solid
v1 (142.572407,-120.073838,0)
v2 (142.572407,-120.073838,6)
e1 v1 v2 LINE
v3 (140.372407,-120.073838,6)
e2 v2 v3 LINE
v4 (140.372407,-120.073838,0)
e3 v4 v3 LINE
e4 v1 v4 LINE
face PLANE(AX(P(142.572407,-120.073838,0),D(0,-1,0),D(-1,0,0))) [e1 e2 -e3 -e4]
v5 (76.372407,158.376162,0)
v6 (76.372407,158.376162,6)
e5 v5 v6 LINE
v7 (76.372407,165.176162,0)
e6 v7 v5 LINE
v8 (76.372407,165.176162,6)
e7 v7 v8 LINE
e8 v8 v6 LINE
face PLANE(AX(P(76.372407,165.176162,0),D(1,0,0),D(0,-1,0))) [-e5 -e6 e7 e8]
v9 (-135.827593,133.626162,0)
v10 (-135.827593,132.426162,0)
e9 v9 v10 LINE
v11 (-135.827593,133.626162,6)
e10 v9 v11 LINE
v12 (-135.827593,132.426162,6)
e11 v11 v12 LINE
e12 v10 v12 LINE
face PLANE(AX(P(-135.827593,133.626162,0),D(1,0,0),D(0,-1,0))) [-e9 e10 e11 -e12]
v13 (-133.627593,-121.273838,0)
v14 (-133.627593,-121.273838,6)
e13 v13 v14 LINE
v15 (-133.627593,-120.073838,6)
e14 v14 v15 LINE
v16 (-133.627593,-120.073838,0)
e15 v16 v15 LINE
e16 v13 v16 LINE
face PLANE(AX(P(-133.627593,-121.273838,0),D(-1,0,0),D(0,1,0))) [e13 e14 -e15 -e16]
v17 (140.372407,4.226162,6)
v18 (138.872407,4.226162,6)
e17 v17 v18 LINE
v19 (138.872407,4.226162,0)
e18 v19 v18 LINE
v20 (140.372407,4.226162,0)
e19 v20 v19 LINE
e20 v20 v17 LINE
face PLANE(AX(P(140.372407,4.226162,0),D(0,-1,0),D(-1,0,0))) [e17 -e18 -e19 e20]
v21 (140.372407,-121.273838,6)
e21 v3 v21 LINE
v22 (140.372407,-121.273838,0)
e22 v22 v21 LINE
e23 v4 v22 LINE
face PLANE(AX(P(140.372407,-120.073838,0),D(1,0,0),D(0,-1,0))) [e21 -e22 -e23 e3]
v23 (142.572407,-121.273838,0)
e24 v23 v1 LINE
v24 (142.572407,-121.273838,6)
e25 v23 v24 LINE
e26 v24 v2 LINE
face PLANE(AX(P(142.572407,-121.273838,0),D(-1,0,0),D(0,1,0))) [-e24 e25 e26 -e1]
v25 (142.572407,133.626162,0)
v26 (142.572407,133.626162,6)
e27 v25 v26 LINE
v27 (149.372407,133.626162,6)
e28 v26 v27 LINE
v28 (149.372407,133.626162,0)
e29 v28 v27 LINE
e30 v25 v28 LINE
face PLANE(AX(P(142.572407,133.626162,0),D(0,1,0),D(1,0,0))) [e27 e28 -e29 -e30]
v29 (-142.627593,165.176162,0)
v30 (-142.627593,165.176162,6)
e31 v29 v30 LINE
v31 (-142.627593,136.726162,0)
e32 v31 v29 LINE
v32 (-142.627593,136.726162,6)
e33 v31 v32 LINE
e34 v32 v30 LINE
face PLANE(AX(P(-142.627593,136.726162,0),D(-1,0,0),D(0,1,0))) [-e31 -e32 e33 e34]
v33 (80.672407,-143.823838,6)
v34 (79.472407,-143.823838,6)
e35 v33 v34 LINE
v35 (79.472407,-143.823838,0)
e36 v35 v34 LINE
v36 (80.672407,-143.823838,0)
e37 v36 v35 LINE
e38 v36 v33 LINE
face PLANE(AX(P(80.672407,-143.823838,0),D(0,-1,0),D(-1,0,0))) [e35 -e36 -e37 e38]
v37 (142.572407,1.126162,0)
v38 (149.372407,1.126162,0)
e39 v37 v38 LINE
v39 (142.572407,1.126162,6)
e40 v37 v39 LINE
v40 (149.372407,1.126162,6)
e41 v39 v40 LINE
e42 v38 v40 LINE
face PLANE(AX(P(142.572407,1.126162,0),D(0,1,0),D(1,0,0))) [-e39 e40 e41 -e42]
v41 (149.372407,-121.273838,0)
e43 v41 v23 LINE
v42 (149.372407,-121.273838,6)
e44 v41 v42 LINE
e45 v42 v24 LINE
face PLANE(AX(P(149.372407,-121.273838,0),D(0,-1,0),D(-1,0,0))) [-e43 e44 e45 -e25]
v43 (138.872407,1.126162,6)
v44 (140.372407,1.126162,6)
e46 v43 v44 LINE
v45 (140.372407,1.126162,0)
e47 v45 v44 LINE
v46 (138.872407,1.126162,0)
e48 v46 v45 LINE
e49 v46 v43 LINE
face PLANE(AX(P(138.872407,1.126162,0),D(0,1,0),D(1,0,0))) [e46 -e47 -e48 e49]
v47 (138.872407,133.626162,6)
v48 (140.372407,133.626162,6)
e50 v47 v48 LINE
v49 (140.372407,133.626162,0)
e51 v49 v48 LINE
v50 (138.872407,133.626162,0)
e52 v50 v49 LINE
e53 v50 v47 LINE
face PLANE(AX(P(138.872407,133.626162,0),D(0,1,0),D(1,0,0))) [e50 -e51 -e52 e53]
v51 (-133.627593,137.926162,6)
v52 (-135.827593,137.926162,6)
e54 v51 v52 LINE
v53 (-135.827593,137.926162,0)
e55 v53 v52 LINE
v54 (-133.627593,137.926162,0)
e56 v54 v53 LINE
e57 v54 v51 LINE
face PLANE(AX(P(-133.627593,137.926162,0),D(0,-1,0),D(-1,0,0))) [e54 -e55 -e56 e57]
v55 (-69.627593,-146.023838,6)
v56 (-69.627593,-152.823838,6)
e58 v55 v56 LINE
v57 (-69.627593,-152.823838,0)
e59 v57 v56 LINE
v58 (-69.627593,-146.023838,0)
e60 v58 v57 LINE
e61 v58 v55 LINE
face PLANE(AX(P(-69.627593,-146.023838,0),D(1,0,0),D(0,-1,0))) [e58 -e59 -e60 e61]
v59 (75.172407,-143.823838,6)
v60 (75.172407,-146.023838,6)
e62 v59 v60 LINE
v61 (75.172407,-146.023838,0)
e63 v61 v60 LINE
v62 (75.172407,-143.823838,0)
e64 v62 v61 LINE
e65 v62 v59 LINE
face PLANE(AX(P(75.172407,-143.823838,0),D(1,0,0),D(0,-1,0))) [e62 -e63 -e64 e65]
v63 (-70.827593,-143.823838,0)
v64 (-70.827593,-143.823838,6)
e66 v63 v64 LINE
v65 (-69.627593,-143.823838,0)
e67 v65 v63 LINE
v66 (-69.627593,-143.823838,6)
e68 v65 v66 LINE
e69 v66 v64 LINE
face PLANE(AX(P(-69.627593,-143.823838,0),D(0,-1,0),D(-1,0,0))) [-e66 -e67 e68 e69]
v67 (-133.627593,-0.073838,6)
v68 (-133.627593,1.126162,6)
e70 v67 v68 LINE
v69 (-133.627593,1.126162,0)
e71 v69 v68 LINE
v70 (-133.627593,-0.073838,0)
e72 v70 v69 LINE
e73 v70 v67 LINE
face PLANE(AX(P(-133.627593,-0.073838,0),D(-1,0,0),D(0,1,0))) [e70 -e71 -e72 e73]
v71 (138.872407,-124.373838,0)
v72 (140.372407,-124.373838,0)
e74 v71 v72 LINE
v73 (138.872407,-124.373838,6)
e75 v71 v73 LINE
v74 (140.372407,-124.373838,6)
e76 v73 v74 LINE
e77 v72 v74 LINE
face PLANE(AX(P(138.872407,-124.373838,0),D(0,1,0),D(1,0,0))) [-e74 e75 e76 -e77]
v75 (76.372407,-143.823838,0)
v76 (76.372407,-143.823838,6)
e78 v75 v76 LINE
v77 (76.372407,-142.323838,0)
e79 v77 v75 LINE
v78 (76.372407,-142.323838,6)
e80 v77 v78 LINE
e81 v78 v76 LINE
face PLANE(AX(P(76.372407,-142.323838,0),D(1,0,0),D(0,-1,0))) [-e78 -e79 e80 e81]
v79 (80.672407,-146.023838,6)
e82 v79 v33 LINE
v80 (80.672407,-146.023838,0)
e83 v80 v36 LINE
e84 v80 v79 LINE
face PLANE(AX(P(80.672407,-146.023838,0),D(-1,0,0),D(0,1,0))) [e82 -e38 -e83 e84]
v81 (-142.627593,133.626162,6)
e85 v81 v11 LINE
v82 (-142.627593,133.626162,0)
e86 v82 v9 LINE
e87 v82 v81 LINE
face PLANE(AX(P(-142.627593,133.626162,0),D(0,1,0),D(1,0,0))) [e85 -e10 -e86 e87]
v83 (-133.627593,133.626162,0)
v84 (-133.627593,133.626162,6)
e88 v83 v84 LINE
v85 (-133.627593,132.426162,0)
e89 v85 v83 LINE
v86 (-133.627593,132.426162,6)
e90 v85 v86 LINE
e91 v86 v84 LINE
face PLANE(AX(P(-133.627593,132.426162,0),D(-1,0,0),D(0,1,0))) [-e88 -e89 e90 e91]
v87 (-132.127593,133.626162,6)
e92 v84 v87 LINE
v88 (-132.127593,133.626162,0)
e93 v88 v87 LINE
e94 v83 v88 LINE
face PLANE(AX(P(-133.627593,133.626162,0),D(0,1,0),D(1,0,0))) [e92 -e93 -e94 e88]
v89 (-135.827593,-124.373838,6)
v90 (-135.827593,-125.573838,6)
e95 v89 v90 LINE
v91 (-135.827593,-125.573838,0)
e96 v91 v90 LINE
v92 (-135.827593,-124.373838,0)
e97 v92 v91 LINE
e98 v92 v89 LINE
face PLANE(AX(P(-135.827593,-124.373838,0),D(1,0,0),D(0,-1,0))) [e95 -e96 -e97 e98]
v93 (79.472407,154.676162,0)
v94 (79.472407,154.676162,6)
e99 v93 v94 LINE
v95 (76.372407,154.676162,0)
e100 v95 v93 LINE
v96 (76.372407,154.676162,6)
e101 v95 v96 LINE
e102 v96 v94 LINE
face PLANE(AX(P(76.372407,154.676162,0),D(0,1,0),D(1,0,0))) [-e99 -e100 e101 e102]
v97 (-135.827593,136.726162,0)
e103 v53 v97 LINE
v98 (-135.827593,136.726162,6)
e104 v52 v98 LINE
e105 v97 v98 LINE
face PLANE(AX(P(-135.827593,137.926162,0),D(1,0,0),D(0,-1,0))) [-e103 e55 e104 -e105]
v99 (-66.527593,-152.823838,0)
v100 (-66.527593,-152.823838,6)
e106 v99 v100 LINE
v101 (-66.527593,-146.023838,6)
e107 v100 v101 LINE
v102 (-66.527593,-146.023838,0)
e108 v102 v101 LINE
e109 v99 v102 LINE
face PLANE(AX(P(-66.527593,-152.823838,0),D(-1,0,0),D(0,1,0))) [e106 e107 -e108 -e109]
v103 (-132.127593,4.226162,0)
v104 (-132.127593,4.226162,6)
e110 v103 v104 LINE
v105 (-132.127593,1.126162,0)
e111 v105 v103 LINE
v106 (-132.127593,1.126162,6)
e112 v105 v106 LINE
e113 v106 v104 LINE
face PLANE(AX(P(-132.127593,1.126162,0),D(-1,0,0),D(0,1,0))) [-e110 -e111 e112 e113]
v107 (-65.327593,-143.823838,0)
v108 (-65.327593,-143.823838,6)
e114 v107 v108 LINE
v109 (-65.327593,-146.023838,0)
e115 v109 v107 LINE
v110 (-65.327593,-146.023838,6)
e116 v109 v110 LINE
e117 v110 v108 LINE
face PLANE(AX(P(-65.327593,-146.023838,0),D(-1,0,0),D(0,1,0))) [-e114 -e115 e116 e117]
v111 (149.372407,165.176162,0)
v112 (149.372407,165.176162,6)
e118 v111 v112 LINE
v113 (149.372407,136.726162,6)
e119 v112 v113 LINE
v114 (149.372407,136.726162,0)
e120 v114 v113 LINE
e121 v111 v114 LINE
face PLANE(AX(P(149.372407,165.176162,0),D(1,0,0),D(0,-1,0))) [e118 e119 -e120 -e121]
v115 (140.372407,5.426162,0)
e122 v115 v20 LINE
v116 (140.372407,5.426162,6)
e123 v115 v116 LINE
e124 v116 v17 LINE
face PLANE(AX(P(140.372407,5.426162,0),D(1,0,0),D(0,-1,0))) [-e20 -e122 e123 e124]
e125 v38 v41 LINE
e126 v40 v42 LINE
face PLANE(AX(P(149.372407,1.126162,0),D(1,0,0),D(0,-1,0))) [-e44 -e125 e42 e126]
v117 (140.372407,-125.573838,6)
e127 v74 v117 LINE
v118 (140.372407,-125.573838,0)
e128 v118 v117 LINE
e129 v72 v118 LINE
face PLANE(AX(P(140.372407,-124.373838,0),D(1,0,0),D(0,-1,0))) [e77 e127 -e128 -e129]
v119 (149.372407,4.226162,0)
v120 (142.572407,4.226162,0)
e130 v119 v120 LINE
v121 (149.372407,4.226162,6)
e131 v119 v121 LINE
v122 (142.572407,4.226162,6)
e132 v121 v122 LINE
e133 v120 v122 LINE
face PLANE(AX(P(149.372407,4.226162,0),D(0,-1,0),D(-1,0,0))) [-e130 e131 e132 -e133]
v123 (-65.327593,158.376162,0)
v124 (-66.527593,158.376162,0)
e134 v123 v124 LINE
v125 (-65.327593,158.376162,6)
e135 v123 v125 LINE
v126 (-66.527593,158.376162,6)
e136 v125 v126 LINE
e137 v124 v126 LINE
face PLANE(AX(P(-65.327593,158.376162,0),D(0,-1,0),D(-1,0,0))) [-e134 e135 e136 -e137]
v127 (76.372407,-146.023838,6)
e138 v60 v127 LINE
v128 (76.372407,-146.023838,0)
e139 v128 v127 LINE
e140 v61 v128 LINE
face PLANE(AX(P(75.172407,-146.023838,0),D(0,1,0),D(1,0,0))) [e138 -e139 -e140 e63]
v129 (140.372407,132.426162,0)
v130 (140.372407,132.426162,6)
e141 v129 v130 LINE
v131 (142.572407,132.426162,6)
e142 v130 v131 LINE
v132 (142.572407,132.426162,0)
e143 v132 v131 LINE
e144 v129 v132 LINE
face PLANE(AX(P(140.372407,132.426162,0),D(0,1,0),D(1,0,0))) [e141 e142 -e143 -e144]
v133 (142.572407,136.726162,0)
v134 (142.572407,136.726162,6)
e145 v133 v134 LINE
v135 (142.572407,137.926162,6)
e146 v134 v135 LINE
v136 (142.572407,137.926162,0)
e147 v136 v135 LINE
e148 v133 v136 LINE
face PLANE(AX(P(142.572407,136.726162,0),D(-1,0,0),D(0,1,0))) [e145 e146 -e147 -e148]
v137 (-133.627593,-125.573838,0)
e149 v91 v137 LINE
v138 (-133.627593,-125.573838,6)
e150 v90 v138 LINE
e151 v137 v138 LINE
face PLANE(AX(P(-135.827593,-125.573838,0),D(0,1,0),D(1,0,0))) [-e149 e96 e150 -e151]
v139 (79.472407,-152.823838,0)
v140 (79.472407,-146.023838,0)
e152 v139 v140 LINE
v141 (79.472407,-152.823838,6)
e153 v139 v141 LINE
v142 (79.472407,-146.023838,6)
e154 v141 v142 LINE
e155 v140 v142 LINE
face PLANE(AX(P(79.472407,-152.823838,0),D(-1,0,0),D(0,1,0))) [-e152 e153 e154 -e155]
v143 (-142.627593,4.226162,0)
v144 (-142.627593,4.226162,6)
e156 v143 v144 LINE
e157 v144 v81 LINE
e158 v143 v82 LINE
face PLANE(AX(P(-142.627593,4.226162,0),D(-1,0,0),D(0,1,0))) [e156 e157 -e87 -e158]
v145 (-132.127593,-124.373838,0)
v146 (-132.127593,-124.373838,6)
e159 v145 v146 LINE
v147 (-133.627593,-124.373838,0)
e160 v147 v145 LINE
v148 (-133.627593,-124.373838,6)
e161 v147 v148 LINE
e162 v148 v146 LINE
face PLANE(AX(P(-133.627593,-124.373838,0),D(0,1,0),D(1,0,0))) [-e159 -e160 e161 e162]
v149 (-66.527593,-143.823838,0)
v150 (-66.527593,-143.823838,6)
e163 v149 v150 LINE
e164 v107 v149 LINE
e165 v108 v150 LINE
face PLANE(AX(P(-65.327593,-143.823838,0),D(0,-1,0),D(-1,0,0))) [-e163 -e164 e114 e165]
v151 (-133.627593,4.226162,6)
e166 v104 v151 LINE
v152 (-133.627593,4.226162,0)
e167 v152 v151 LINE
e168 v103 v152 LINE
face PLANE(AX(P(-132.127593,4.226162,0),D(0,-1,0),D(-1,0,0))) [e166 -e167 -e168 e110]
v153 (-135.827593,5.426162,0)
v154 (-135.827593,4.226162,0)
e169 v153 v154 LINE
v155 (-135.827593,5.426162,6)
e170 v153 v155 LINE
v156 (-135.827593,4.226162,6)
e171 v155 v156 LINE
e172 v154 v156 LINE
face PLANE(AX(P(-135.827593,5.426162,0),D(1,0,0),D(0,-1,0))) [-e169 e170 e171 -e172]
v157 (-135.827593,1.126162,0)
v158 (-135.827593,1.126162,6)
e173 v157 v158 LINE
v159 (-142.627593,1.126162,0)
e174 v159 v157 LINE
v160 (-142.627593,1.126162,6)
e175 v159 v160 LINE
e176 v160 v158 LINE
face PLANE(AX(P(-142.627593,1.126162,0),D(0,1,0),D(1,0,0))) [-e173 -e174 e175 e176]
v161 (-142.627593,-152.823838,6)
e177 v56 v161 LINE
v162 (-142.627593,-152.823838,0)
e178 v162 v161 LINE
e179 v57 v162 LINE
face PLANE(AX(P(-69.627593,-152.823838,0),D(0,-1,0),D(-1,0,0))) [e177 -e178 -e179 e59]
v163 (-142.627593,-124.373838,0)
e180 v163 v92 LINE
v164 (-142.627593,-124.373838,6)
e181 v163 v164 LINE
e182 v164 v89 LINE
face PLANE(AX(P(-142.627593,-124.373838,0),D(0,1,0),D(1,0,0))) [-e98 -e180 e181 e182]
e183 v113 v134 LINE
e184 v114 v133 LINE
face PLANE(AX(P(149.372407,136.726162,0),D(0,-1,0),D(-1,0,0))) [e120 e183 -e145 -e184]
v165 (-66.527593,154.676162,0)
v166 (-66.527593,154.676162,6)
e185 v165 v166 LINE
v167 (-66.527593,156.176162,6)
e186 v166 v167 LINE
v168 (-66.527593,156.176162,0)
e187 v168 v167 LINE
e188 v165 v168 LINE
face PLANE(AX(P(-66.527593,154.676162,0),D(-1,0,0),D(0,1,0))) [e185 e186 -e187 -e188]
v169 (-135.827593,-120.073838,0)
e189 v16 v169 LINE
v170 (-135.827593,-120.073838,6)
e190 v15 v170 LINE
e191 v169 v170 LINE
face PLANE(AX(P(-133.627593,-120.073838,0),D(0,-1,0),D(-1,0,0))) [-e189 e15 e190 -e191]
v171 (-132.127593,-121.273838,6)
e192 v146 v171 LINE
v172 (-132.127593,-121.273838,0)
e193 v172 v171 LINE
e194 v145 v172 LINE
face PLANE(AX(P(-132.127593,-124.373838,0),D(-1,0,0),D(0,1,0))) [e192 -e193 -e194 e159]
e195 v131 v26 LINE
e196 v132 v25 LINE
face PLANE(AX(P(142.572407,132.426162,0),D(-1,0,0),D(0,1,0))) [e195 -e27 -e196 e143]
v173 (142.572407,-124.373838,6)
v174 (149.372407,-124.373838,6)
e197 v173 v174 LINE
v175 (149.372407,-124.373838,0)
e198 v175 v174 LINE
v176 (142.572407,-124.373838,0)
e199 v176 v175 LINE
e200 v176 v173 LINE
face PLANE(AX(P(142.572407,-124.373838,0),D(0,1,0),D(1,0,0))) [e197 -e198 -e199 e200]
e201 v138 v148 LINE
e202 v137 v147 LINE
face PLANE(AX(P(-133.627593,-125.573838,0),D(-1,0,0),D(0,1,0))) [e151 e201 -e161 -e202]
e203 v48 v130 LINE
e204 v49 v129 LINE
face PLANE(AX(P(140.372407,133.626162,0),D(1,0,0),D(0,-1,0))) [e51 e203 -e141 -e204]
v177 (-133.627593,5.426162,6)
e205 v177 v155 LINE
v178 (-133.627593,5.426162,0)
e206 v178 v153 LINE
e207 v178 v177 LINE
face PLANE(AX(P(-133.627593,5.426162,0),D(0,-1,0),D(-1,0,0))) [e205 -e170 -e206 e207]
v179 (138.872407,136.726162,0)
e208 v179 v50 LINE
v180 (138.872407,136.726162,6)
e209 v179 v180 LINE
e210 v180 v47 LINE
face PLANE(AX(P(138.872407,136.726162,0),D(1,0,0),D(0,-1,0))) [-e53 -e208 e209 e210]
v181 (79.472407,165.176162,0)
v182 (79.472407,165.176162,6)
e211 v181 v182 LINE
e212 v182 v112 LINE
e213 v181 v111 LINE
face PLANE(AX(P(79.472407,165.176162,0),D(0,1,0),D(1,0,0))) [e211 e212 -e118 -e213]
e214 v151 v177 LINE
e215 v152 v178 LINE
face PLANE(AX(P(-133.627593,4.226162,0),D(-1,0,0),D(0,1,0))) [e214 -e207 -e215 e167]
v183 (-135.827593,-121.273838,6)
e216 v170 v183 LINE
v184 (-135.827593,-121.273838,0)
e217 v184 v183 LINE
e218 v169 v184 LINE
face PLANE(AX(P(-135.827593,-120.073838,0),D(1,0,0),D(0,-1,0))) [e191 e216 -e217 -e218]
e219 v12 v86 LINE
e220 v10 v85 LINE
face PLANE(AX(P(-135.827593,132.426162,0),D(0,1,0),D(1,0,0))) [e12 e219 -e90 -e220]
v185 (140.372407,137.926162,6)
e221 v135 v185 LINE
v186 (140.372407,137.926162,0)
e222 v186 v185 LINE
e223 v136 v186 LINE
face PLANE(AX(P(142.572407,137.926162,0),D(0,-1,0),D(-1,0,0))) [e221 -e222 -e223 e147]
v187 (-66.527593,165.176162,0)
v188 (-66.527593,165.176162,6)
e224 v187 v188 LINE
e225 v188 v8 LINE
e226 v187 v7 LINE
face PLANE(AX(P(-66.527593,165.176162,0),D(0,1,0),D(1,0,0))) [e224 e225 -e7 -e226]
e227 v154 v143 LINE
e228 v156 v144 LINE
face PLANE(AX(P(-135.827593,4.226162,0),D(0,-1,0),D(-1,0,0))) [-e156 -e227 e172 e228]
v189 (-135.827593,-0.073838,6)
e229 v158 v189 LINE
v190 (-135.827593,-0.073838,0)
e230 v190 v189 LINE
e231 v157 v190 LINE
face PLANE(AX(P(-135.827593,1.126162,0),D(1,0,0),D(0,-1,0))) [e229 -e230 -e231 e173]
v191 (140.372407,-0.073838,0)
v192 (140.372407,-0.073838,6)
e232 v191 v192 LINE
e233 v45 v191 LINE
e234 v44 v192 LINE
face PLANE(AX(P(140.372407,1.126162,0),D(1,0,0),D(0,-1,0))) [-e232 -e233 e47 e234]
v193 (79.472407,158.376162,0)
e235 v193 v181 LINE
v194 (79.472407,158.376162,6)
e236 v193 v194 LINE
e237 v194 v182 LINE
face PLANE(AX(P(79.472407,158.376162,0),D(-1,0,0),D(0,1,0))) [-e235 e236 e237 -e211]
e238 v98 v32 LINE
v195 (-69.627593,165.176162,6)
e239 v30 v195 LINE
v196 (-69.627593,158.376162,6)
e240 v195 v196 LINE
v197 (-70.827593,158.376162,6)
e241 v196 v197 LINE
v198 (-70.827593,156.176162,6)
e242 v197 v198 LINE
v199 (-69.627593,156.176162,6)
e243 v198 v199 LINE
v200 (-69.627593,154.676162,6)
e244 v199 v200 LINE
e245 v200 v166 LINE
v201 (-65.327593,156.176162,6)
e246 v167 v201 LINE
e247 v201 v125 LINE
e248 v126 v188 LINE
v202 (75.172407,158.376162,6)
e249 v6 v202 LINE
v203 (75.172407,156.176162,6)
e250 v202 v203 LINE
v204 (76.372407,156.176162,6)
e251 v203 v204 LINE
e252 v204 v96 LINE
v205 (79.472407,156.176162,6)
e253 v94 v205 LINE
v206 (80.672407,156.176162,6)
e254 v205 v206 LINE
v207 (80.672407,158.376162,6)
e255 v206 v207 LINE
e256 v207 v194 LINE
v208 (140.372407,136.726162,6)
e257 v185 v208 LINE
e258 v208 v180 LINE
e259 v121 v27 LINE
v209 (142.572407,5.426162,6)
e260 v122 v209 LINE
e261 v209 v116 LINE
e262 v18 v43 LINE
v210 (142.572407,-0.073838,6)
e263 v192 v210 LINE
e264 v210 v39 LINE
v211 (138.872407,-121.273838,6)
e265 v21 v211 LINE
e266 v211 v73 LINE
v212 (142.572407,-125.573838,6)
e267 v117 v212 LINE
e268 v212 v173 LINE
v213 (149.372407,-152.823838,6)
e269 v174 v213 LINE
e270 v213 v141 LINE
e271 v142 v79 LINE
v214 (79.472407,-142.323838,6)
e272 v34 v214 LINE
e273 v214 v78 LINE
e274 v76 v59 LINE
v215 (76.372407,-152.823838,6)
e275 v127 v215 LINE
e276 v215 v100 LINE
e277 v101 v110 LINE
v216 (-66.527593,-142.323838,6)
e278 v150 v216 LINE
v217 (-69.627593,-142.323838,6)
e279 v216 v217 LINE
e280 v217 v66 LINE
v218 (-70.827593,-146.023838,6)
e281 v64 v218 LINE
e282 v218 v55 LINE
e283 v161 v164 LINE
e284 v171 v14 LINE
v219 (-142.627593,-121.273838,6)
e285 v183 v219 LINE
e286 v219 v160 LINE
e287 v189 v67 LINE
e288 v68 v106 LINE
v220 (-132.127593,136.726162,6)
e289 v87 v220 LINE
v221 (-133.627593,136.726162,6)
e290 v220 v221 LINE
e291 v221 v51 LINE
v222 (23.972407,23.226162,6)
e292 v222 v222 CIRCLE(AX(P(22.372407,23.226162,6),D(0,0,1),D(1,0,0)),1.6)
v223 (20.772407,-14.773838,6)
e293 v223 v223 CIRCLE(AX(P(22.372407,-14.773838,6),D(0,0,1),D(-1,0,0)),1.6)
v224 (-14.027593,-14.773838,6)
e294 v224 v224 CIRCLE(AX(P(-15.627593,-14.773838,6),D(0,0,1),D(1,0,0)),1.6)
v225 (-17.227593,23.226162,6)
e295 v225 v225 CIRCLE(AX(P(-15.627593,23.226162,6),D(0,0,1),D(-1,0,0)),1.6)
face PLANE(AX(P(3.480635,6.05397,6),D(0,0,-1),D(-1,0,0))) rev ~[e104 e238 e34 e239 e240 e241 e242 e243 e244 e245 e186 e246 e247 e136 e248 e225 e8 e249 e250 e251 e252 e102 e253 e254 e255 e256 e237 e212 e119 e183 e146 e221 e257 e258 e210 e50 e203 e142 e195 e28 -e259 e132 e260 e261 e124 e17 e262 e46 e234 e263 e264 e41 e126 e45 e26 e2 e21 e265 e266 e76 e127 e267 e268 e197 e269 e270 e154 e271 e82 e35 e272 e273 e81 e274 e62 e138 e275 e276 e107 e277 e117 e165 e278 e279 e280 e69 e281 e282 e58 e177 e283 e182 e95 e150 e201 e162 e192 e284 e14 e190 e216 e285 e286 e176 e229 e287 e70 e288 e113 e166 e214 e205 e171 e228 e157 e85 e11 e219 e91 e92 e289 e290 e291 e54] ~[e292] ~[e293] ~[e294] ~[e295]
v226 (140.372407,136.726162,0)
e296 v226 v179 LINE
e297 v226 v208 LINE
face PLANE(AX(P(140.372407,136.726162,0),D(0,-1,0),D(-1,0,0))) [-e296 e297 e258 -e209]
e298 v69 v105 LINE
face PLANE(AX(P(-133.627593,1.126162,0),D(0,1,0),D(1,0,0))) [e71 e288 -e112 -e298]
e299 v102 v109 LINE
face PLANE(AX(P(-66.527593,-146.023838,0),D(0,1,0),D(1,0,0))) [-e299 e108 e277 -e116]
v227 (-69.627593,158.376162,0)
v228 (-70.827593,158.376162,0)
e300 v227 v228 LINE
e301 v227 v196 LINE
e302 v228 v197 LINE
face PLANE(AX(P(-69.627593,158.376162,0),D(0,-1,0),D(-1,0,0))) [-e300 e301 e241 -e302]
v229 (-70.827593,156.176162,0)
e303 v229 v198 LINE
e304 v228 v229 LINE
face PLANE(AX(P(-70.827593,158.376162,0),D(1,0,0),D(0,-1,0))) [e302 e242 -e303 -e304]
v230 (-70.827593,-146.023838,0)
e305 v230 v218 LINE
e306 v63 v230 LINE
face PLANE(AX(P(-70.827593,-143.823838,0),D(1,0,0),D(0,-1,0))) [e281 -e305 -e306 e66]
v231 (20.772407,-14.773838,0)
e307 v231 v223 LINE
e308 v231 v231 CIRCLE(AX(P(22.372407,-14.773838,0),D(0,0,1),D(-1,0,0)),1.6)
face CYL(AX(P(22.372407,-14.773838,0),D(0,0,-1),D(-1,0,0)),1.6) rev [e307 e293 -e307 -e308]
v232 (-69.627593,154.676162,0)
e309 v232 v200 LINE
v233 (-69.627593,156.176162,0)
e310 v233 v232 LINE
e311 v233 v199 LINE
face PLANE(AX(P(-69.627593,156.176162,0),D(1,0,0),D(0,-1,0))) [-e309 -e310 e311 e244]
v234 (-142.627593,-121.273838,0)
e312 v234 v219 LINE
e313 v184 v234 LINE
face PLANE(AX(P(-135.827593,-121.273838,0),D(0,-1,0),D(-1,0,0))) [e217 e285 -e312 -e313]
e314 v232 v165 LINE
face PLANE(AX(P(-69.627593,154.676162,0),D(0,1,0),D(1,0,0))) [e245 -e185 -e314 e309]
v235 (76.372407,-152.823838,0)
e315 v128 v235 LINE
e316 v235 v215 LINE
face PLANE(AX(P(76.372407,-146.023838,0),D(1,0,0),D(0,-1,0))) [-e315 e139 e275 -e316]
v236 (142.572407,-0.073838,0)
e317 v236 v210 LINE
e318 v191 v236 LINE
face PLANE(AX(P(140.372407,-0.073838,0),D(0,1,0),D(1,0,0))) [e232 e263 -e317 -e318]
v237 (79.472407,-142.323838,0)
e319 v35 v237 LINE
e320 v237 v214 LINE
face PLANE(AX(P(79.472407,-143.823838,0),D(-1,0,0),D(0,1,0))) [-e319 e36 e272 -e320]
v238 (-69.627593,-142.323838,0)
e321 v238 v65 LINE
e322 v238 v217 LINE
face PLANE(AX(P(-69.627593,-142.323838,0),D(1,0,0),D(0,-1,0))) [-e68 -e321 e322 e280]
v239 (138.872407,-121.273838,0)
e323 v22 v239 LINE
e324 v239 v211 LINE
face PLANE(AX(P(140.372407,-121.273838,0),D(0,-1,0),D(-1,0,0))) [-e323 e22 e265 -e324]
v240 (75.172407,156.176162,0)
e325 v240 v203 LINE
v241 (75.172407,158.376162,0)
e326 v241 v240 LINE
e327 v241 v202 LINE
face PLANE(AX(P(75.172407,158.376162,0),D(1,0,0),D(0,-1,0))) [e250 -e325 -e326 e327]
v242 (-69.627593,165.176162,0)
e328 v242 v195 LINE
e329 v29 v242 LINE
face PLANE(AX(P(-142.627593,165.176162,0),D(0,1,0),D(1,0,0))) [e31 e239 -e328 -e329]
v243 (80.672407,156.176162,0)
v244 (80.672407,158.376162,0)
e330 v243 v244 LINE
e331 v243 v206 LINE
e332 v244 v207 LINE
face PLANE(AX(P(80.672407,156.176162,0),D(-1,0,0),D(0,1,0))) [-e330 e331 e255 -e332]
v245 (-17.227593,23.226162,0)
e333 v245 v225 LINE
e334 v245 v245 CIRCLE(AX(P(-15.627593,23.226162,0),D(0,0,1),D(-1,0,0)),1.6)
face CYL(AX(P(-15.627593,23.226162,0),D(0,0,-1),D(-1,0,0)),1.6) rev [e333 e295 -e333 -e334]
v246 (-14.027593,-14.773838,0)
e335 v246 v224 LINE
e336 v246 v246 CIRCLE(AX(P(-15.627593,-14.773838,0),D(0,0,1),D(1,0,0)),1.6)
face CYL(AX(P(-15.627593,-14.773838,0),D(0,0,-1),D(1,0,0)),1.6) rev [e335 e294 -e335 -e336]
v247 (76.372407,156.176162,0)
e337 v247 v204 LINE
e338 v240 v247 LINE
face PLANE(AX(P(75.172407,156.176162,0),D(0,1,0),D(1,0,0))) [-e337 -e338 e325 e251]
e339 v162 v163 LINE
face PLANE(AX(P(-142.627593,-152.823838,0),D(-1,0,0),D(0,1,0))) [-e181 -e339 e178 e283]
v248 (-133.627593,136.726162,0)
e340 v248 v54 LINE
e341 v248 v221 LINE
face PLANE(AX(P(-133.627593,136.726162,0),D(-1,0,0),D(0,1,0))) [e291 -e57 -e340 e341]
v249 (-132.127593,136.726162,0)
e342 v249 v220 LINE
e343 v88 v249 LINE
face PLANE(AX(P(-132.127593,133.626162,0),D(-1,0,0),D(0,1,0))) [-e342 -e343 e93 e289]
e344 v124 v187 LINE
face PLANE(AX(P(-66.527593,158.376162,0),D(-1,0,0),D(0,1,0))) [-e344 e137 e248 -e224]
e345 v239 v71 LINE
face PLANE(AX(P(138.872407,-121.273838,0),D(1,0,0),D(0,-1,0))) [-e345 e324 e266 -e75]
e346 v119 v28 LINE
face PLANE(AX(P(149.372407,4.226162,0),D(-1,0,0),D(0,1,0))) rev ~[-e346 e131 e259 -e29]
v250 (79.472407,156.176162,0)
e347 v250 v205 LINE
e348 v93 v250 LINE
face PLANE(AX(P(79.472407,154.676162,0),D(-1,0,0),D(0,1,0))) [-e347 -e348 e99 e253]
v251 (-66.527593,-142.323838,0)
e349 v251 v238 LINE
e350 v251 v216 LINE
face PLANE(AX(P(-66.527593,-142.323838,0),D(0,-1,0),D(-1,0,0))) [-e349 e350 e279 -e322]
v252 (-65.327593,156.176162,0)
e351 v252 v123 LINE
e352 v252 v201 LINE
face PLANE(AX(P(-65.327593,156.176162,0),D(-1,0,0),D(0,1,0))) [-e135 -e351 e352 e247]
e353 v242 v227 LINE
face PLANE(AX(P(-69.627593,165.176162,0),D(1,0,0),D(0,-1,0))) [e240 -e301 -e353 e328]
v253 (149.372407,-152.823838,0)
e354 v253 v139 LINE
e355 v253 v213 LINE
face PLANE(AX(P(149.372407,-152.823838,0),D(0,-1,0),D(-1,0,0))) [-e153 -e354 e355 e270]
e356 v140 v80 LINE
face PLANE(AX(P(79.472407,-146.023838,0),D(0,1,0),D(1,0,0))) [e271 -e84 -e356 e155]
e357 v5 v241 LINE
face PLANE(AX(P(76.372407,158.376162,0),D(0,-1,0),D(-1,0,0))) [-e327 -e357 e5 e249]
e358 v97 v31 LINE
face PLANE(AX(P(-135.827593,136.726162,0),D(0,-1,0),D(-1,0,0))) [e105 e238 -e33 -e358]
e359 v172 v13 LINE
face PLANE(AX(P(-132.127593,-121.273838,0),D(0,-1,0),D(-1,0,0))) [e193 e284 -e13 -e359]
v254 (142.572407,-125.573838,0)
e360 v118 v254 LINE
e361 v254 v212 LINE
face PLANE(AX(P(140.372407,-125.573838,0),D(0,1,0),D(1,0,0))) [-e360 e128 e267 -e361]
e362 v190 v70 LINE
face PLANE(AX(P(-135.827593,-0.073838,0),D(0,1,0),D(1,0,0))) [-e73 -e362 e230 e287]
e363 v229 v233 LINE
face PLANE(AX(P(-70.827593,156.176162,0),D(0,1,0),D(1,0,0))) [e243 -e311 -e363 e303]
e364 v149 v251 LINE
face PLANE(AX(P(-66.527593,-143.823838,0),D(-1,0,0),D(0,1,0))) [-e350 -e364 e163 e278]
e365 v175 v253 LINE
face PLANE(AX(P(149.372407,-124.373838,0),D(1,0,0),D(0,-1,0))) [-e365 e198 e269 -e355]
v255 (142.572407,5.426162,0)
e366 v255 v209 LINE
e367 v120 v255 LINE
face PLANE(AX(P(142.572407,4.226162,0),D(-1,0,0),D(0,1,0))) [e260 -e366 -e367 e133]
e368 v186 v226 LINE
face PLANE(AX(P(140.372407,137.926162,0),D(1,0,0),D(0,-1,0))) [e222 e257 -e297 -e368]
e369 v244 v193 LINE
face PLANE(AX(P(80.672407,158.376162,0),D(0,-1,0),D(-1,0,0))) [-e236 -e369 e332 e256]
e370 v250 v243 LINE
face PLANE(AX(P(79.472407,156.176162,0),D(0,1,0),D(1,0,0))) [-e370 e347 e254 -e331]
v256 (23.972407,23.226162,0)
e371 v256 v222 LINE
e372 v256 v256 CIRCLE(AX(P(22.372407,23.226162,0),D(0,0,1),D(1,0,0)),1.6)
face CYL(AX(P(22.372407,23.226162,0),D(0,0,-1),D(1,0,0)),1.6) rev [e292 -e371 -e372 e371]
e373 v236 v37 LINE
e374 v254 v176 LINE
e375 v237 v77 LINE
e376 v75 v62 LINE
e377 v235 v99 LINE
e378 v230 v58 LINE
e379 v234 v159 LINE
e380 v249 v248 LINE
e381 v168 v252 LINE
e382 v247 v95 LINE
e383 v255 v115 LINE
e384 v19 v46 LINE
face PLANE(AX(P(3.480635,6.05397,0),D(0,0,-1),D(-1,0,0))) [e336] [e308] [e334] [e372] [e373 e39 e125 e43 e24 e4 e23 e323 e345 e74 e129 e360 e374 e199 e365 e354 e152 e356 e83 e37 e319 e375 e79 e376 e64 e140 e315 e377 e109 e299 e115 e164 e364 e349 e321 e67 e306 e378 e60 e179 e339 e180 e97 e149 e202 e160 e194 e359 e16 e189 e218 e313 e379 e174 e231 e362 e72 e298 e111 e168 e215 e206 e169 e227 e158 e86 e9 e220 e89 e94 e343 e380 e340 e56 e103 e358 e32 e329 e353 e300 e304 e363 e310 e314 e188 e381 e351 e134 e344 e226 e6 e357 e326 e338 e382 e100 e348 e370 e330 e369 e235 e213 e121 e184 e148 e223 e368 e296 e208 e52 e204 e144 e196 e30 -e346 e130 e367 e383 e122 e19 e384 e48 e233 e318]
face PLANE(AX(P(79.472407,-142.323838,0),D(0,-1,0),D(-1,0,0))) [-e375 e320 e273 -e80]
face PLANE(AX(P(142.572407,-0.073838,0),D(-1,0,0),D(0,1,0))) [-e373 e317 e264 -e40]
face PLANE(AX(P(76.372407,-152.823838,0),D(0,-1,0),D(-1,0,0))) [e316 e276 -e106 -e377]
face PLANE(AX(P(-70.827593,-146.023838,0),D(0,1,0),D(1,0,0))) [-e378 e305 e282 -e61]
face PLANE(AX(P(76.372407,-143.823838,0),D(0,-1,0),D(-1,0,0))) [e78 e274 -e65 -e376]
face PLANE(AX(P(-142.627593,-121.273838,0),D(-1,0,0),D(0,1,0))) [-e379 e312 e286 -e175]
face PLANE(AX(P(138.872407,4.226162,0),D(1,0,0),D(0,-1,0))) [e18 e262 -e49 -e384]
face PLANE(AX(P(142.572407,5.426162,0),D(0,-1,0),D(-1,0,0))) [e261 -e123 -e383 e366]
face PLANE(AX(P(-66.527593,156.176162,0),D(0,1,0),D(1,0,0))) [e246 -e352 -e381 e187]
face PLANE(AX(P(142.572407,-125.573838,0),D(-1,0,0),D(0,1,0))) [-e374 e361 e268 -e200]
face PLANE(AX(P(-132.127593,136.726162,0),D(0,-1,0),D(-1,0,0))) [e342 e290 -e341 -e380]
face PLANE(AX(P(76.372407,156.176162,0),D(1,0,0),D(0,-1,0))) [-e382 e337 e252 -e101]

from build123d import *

# Parameters (mm, degrees)
SKETCH_1_R      = 1.6
EXTRUDE_1_DEPTH = 6


with BuildPart() as part:
    # Эскиз1 → Бобышка-Вытянуть1 (new body)
    with BuildSketch(Plane.XY):
        Polygon((-142.627592608, 165.17616196), (-69.627592608, 165.17616196), (-69.627592608, 158.37616196), (-70.827592608, 158.37616196), (-70.827592608, 156.17616196), (-69.627592608, 156.17616196), (-69.627592608, 154.67616196), (-66.527592608, 154.67616196), (-66.527592608, 156.17616196), (-65.327592608, 156.17616196), (-65.327592608, 158.37616196), (-66.527592608, 158.37616196), (-66.527592608, 165.17616196), (76.372407392, 165.17616196), (76.372407392, 158.37616196), (75.172407392, 158.37616196), (75.172407392, 156.17616196), (76.372407392, 156.17616196), (76.372407392, 154.67616196), (79.472407392, 154.67616196), (79.472407392, 156.17616196), (80.672407392, 156.17616196), (80.672407392, 158.37616196), (79.472407392, 158.37616196), (79.472407392, 165.17616196), (149.372407392, 165.17616196), (149.372407392, 136.72616196), (142.572407392, 136.72616196), (142.572407392, 137.92616196), (140.372407392, 137.92616196), (140.372407392, 136.72616196), (138.872407392, 136.72616196), (138.872407392, 133.62616196), (140.372407392, 133.62616196), (140.372407392, 132.42616196), (142.572407392, 132.42616196), (142.572407392, 133.62616196), (149.372407392, 133.62616196), (149.372407392, 132.07616196), (149.372407392, 4.22616196), (142.572407392, 4.22616196), (142.572407392, 5.42616196), (140.372407392, 5.42616196), (140.372407392, 4.22616196), (138.872407392, 4.22616196), (138.872407392, 1.12616196), (140.372407392, 1.12616196), (140.372407392, -0.07383804), (142.572407392, -0.07383804), (142.572407392, 1.12616196), (149.372407392, 1.12616196), (149.372407392, -121.27383804), (142.572407392, -121.27383804), (142.572407392, -120.07383804), (140.372407392, -120.07383804), (140.372407392, -121.27383804), (138.872407392, -121.27383804), (138.872407392, -124.37383804), (140.372407392, -124.37383804), (140.372407392, -125.57383804), (142.572407392, -125.57383804), (142.572407392, -124.37383804), (149.372407392, -124.37383804), (149.372407392, -152.82383804), (79.472407392, -152.82383804), (79.472407392, -146.02383804), (80.672407392, -146.02383804), (80.672407392, -143.82383804), (79.472407392, -143.82383804), (79.472407392, -142.32383804), (76.372407392, -142.32383804), (76.372407392, -143.82383804), (75.172407392, -143.82383804), (75.172407392, -146.02383804), (76.372407392, -146.02383804), (76.372407392, -152.82383804), (-66.527592608, -152.82383804), (-66.527592608, -146.02383804), (-65.327592608, -146.02383804), (-65.327592608, -143.82383804), (-66.527592608, -143.82383804), (-66.527592608, -142.32383804), (-69.627592608, -142.32383804), (-69.627592608, -143.82383804), (-70.827592608, -143.82383804), (-70.827592608, -146.02383804), (-69.627592608, -146.02383804), (-69.627592608, -152.82383804), (-142.627592608, -152.82383804), (-142.627592608, -124.37383804), (-135.827592608, -124.37383804), (-135.827592608, -125.57383804), (-133.627592608, -125.57383804), (-133.627592608, -124.37383804), (-132.127592608, -124.37383804), (-132.127592608, -121.27383804), (-133.627592608, -121.27383804), (-133.627592608, -120.07383804), (-135.827592608, -120.07383804), (-135.827592608, -121.27383804), (-142.627592608, -121.27383804), (-142.627592608, 1.12616196), (-135.827592608, 1.12616196), (-135.827592608, -0.07383804), (-133.627592608, -0.07383804), (-133.627592608, 1.12616196), (-132.127592608, 1.12616196), (-132.127592608, 4.22616196), (-133.627592608, 4.22616196), (-133.627592608, 5.42616196), (-135.827592608, 5.42616196), (-135.827592608, 4.22616196), (-142.627592608, 4.22616196), (-142.627592608, 133.62616196), (-135.827592608, 133.62616196), (-135.827592608, 132.42616196), (-133.627592608, 132.42616196), (-133.627592608, 133.62616196), (-132.127592608, 133.62616196), (-132.127592608, 136.72616196), (-133.627592608, 136.72616196), (-133.627592608, 137.92616196), (-135.827592608, 137.92616196), (-135.827592608, 136.72616196), (-142.627592608, 136.72616196), align=None)
        with Locations((22.372407392, 23.22616196)):
            Circle(SKETCH_1_R, mode=Mode.SUBTRACT)
        with Locations(Location((-15.627592608, 23.22616196, 0), (0, 0, 180))):
            Circle(SKETCH_1_R, mode=Mode.SUBTRACT)
        with Locations(Location((22.372407392, -14.77383804, 0), (0, 0, 180))):
            Circle(SKETCH_1_R, mode=Mode.SUBTRACT)
        with Locations((-15.627592608, -14.77383804)):
            Circle(SKETCH_1_R, mode=Mode.SUBTRACT)
    extrude(amount=EXTRUDE_1_DEPTH)


solid = part.part
